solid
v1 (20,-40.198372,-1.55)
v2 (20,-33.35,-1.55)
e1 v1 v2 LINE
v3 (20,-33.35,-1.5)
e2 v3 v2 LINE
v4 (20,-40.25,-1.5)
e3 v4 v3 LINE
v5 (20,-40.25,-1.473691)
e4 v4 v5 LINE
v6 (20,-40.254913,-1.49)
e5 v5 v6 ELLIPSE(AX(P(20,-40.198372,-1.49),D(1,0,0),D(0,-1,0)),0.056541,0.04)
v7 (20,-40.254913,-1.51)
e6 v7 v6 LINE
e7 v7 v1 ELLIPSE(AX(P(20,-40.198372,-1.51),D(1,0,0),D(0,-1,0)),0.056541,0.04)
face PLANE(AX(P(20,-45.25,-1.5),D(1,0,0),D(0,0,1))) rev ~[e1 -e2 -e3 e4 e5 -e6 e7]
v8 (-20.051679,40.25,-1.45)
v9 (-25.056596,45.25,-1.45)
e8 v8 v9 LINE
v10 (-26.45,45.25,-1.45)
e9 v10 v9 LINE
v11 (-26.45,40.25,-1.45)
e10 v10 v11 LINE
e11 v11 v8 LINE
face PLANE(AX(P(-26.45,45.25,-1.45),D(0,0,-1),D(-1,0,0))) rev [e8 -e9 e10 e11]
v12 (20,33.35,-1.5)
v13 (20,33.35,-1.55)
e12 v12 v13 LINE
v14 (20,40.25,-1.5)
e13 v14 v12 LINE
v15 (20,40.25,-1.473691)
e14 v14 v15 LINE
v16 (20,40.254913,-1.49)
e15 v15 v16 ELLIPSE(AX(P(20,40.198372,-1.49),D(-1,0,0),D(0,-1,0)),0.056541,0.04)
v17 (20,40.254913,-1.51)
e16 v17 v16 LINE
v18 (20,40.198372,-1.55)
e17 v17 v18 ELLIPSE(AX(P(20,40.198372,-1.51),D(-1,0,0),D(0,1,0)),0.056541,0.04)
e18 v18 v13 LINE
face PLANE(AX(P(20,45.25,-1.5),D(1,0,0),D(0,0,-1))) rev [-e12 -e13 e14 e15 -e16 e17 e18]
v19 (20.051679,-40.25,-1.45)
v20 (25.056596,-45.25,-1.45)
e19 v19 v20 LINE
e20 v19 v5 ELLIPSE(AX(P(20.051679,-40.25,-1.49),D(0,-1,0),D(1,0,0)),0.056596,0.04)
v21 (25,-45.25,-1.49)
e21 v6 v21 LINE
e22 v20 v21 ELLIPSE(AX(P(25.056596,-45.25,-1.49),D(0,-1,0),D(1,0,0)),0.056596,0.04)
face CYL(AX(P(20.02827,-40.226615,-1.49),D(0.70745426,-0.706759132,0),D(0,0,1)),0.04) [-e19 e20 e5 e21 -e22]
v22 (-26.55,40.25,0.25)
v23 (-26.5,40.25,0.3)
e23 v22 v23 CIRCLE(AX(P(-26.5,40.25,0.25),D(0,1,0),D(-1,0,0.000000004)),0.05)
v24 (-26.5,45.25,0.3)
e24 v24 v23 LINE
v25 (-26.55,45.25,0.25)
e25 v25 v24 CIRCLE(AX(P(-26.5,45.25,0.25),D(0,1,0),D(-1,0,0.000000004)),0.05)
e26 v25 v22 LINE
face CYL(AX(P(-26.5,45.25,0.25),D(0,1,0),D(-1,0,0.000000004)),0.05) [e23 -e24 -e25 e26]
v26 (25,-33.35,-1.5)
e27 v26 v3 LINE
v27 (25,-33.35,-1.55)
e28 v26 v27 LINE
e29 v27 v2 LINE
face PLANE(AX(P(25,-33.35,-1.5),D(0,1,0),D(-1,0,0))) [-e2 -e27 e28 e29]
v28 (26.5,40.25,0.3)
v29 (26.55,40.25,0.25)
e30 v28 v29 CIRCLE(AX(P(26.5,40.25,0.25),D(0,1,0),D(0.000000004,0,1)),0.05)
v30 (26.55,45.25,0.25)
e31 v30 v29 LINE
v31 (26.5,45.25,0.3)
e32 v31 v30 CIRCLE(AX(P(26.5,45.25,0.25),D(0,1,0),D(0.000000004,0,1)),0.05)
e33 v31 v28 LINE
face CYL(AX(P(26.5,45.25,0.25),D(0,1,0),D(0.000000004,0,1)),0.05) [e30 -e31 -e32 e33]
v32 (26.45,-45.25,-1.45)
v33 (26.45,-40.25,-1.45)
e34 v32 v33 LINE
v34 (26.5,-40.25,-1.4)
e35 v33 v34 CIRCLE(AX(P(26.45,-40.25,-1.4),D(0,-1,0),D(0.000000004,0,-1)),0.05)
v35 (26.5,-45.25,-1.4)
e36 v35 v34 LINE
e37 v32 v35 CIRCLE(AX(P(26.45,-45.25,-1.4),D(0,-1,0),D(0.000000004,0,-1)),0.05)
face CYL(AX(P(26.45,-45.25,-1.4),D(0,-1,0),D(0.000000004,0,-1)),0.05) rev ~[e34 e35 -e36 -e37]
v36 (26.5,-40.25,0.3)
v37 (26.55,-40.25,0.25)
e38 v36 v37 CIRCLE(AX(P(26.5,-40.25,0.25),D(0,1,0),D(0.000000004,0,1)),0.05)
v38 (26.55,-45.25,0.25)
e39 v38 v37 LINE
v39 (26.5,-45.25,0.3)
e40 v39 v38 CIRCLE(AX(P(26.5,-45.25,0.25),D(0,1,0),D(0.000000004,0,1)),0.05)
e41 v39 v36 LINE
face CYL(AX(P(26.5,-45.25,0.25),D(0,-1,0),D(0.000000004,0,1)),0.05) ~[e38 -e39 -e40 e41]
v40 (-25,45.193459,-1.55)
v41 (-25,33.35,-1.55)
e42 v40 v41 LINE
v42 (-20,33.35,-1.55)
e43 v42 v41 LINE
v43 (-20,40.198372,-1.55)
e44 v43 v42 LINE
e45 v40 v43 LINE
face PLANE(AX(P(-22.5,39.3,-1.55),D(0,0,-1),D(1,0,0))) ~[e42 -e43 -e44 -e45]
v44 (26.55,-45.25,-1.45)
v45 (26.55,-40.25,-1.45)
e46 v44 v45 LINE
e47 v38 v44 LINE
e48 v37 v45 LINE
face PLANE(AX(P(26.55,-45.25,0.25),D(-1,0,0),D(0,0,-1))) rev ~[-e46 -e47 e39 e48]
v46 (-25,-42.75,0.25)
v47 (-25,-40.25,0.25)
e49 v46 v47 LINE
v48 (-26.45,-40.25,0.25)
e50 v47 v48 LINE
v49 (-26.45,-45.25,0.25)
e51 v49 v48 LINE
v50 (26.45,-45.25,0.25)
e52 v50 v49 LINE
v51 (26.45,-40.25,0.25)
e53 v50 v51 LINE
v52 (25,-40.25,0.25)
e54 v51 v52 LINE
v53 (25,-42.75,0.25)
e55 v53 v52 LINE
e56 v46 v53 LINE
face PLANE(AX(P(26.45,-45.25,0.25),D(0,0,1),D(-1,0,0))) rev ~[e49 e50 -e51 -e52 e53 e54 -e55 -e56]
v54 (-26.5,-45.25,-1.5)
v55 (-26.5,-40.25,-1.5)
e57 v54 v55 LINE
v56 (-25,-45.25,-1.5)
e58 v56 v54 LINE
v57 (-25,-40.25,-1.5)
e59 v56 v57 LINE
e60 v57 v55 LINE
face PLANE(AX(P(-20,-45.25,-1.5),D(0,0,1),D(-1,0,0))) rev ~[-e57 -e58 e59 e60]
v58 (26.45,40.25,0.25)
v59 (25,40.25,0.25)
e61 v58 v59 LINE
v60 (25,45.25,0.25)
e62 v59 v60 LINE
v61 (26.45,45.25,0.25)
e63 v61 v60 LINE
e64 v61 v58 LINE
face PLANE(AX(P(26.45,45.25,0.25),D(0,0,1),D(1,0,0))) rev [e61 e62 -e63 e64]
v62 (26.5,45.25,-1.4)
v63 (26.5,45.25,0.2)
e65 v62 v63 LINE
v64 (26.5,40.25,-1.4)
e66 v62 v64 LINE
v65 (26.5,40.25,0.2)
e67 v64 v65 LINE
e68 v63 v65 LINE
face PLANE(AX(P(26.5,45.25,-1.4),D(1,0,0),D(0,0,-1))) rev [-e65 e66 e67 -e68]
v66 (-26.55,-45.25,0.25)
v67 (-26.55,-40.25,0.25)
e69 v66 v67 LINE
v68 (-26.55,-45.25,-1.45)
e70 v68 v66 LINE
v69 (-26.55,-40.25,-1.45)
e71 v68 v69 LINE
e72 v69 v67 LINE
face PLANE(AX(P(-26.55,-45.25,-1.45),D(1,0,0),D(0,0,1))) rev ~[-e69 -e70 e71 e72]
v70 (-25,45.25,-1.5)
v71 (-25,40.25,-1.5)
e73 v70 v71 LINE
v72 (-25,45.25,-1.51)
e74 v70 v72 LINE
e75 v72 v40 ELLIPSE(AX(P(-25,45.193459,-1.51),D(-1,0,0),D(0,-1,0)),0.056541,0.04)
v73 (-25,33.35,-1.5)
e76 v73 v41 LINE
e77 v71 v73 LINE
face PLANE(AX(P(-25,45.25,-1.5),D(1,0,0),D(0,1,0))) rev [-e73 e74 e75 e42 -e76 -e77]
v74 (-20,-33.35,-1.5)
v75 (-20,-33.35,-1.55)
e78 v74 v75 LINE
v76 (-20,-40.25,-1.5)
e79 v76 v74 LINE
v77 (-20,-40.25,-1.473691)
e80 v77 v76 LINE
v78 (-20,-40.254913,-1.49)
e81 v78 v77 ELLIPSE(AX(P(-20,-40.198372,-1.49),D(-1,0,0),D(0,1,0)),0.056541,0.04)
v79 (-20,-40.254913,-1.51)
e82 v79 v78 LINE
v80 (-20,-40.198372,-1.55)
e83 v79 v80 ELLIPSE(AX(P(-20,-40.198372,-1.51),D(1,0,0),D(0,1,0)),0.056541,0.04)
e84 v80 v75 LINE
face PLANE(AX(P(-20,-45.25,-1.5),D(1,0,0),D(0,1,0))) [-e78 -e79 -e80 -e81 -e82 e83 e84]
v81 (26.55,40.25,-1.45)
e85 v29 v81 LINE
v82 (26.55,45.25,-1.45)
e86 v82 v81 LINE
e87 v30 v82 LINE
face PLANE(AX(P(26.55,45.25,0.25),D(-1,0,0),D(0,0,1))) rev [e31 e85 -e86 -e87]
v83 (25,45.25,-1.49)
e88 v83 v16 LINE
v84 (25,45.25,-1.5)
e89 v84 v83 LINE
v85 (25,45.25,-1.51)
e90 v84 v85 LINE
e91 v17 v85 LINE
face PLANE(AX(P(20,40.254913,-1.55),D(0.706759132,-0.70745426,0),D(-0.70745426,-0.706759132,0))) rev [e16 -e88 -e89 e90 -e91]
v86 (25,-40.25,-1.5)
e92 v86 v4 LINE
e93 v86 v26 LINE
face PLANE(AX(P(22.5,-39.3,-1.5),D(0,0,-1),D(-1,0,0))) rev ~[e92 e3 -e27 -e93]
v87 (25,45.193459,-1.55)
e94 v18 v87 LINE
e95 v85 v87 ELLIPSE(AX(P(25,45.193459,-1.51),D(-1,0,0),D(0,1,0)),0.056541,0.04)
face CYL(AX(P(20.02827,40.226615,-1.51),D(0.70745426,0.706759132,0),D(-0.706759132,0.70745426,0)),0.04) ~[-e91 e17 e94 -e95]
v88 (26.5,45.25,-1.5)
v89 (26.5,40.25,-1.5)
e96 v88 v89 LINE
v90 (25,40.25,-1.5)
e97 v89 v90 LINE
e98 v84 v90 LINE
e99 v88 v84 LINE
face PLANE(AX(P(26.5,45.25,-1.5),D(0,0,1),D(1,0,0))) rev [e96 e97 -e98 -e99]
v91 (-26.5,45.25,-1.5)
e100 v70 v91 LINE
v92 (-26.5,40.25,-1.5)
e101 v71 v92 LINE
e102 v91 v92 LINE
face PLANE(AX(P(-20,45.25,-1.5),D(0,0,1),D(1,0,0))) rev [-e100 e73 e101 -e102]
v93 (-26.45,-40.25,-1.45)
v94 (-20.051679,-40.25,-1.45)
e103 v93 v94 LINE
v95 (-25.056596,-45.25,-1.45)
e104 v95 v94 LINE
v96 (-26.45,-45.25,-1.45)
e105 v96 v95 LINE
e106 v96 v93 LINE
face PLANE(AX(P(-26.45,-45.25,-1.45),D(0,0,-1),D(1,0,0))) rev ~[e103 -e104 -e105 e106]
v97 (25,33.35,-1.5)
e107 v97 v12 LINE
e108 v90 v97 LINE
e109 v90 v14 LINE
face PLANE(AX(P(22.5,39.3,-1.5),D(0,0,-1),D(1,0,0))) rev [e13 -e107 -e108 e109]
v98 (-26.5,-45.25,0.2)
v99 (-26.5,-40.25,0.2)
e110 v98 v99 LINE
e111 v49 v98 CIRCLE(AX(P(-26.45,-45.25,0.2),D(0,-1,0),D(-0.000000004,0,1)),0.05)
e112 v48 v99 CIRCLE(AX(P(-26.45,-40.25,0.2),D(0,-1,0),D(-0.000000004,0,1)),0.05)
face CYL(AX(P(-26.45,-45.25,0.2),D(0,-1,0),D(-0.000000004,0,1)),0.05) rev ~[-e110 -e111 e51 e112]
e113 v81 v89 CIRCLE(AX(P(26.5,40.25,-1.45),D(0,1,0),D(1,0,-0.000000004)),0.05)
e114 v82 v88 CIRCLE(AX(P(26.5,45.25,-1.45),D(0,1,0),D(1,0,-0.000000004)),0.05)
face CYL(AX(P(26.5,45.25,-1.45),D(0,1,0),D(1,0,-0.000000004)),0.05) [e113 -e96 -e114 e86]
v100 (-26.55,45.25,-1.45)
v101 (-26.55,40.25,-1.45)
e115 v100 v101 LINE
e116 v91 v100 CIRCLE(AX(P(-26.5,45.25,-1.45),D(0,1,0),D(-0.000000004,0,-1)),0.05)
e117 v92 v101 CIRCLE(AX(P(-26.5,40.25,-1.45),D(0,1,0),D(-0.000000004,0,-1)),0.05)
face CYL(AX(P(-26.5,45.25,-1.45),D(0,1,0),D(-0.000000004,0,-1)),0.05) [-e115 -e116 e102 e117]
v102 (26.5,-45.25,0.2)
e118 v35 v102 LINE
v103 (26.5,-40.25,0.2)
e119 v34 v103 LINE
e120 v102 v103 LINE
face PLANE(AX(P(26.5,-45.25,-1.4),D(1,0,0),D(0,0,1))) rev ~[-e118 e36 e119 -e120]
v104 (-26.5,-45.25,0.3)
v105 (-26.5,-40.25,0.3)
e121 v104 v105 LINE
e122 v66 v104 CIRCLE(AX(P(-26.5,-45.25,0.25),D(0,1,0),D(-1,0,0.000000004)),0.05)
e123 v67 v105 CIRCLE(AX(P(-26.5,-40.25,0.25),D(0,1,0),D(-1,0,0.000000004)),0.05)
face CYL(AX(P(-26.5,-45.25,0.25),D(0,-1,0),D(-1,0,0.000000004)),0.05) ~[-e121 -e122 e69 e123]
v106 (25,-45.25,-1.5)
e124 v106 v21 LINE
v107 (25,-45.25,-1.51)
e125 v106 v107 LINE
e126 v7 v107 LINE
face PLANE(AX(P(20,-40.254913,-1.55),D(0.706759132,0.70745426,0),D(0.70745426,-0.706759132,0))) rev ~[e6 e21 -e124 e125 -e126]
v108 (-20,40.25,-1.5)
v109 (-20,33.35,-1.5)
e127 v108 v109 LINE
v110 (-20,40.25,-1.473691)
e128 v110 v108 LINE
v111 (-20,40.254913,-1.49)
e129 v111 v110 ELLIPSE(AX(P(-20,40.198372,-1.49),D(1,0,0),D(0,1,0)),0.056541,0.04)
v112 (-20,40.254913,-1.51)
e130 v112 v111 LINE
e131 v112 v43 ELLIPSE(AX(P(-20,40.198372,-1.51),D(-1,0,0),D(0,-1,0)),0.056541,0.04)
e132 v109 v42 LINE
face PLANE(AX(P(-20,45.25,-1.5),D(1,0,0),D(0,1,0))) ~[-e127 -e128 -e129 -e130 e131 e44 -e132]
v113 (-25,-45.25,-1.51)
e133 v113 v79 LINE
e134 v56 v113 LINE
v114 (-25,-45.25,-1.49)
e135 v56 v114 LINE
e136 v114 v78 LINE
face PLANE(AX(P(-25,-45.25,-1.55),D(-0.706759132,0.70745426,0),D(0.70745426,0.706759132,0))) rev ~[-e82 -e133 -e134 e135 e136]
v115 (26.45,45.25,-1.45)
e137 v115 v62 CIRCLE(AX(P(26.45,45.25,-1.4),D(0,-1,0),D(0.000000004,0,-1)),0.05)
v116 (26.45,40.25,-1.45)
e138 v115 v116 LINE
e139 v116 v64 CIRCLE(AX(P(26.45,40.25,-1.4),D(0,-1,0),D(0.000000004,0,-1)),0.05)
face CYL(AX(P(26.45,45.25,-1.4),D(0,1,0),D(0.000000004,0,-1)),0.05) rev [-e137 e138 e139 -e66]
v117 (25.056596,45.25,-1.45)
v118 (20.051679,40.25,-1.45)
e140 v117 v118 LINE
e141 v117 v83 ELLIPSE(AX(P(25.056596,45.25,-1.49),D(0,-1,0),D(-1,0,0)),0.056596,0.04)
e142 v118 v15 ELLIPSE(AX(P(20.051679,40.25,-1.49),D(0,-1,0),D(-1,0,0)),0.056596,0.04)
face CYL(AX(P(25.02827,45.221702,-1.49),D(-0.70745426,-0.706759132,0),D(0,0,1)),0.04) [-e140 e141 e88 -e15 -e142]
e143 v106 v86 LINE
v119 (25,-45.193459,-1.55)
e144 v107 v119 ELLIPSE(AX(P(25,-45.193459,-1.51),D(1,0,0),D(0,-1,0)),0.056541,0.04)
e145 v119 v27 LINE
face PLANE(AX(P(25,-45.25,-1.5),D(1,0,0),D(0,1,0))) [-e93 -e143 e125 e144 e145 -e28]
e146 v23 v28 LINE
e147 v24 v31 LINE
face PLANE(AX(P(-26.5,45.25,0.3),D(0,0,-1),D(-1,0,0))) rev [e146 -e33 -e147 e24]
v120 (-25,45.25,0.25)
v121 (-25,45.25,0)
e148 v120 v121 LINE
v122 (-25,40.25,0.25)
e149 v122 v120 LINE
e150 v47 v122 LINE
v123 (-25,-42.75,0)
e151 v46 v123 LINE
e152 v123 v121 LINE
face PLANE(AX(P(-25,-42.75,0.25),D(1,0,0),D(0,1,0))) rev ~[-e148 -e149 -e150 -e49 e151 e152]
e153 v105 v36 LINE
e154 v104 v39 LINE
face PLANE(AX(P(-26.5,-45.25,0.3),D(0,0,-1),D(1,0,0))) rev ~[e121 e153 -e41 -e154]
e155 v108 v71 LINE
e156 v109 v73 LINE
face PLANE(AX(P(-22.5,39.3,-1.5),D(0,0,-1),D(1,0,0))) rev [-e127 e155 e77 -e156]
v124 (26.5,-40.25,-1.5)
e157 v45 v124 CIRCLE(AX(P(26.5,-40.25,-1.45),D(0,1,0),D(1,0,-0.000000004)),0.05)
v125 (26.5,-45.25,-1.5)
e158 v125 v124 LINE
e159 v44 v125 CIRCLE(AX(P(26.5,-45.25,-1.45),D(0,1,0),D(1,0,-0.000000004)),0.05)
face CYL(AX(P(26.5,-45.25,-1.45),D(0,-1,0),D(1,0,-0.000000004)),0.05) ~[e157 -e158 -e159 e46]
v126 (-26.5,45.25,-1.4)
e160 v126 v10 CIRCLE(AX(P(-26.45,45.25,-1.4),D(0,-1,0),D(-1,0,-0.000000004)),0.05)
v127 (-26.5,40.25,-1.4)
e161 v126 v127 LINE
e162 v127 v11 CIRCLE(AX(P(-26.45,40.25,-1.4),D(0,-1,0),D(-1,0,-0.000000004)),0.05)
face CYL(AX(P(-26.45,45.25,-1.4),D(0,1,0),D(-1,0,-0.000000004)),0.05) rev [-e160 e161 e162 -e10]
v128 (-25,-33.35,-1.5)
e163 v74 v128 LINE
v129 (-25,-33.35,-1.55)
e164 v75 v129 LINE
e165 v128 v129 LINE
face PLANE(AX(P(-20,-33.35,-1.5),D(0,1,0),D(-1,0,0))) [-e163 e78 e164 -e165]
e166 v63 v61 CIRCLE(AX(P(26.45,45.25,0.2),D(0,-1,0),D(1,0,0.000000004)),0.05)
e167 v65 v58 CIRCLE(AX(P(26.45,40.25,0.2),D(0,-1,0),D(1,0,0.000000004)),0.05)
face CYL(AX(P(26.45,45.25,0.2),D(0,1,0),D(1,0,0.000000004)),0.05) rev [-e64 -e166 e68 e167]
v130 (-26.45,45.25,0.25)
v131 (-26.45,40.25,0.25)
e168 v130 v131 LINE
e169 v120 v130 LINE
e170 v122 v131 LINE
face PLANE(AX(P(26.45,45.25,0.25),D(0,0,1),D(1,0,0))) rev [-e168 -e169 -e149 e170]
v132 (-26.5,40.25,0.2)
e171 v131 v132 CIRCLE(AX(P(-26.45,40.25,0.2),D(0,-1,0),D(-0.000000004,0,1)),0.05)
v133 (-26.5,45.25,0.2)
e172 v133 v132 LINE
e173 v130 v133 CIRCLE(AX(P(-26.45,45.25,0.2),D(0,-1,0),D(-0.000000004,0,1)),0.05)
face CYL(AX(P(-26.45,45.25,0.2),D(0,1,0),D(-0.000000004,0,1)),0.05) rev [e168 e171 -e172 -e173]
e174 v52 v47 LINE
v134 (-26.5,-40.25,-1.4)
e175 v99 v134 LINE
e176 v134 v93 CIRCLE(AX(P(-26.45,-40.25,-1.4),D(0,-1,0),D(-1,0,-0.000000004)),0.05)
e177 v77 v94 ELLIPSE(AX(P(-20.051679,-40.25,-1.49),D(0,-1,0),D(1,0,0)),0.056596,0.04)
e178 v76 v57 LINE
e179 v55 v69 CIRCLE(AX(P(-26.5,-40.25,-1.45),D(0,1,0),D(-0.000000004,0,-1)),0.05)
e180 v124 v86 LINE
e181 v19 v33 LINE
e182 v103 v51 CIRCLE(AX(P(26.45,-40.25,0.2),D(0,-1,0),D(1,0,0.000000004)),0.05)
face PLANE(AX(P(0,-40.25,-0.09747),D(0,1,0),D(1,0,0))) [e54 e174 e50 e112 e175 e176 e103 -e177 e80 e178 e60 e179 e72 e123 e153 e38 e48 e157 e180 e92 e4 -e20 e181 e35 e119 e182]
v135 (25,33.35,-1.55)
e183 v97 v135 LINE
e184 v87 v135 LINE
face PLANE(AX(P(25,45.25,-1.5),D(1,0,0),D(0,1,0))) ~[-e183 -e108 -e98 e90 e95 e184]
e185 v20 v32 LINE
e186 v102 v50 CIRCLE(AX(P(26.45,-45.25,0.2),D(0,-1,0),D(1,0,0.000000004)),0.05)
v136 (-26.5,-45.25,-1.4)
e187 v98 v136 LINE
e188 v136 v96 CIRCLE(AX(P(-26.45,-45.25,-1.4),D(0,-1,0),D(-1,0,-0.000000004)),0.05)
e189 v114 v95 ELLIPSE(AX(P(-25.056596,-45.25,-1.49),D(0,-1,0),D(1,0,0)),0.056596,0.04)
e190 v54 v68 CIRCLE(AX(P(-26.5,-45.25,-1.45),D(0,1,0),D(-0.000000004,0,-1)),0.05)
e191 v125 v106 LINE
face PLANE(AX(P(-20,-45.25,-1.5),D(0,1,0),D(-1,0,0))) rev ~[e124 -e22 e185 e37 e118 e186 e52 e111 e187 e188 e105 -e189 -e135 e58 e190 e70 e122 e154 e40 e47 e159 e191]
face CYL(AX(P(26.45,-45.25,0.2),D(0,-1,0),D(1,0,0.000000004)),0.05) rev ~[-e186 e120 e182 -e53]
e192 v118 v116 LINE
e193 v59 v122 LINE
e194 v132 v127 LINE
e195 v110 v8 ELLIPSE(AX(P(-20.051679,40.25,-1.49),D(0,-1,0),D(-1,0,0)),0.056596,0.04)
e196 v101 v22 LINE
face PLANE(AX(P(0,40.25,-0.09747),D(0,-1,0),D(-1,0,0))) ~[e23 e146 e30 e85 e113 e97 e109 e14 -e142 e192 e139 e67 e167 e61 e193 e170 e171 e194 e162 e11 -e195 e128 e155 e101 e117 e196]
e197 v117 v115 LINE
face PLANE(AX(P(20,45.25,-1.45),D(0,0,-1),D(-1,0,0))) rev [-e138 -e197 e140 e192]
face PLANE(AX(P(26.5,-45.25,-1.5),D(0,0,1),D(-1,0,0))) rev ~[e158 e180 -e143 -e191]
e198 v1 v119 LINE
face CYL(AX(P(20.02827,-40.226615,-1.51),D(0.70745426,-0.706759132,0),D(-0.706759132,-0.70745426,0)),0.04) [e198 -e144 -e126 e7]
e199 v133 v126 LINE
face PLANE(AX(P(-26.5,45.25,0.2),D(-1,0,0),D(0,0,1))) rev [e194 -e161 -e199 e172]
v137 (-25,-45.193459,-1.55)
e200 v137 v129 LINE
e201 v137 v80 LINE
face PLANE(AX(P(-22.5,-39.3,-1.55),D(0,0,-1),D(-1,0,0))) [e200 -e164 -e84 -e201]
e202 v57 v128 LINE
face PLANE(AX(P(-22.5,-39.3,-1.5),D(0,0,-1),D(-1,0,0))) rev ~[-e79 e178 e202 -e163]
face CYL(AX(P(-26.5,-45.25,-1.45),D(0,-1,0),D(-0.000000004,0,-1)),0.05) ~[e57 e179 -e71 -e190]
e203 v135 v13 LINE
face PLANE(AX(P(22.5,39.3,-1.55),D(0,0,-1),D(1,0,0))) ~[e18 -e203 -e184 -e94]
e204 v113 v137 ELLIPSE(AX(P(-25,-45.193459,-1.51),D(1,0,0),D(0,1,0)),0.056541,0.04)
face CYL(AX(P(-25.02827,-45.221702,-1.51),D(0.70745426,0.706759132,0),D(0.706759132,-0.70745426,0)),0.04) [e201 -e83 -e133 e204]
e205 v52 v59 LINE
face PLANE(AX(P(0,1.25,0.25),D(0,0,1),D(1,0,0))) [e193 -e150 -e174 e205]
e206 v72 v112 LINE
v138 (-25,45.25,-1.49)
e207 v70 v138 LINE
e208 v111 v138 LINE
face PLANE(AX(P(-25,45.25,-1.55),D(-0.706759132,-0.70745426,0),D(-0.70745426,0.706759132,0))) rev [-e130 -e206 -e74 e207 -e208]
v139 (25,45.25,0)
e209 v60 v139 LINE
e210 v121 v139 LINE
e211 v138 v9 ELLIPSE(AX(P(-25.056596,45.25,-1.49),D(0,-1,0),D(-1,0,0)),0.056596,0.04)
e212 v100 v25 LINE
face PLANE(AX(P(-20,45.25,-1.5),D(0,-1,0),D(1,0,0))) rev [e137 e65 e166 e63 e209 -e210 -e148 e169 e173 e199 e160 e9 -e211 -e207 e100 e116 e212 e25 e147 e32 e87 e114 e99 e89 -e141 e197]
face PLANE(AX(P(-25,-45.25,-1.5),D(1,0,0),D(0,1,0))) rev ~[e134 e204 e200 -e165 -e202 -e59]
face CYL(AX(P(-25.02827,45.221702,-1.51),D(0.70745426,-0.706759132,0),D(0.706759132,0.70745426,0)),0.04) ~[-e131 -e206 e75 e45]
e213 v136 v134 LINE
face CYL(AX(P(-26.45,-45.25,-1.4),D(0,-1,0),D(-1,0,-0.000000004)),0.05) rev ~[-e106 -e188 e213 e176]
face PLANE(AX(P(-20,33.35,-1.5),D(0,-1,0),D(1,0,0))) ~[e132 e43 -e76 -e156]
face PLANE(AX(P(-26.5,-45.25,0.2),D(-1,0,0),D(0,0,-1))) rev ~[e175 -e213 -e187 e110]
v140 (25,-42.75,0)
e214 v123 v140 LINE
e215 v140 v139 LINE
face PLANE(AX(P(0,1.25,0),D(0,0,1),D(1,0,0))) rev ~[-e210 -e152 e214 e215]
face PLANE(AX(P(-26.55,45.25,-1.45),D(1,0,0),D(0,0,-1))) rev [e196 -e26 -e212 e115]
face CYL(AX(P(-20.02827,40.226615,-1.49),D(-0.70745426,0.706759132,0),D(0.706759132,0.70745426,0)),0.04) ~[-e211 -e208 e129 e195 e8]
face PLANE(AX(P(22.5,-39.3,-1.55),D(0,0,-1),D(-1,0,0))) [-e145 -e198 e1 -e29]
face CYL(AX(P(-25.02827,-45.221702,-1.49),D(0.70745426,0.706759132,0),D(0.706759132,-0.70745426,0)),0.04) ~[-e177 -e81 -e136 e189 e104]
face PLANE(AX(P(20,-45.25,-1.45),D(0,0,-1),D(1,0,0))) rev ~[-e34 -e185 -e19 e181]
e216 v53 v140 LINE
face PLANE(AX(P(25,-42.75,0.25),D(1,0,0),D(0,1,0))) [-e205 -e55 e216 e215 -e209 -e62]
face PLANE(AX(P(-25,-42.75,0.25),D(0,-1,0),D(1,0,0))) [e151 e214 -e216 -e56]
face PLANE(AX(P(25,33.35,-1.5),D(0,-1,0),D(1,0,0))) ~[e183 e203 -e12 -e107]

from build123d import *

# Parameters (mm, degrees)
SKETCH1_W            = 50
SKETCH1_H            = 88
BOSS_EXTRUDE1_DEPTH  = 0.25
BOSS_EXTRUDE2_DEPTH  = 5
SKETCH5_W            = 5
SKETCH5_H            = 11.9
BOSS_EXTRUDE3_DEPTH  = 0.05
CUT_EXTRUDE1_DEPTH   = 0.2
FILLET1_R            = 0.04
FILLET1_OF_MIRROR1_R = 0.04


with BuildPart() as part:
    # Sketch1 → Boss-Extrude1 (new body)
    with BuildSketch(Plane.XY.offset(0.25)):
        with Locations((0, 1.25)):
            Rectangle(SKETCH1_W, SKETCH1_H)
    extrude(amount=-BOSS_EXTRUDE1_DEPTH)

    # Sketch4 → Boss-Extrude2 (add)
    with BuildSketch(Plane(origin=(0, -45.25, 0), x_dir=(-1, 0, 0), z_dir=(0, -1, 0))):
        with BuildLine():
            Line((-26.45, -0.25), (26.45, -0.25))
            ThreePointArc((26.45, -0.25), (26.485355339, -0.235355339), (26.5, -0.2))
            Line((26.5, -0.2), (26.5, 1.4))
            ThreePointArc((26.5, 1.4), (26.485355339, 1.435355339), (26.45, 1.45))
            Line((26.45, 1.45), (20, 1.45))
            Line((20, 1.45), (20, 1.5))
            Line((20, 1.5), (26.5, 1.5))
            ThreePointArc((26.5, 1.5), (26.535355339, 1.485355339), (26.55, 1.45))
            Line((26.55, 1.45), (26.55, -0.25))
            ThreePointArc((26.55, -0.25), (26.535355339, -0.285355339), (26.5, -0.3))
            Line((26.5, -0.3), (-26.5, -0.3))
            ThreePointArc((-26.5, -0.3), (-26.535355339, -0.285355339), (-26.55, -0.25))
            Line((-26.55, -0.25), (-26.55, 1.45))
            ThreePointArc((-26.55, 1.45), (-26.535355339, 1.485355339), (-26.5, 1.5))
            Line((-26.5, 1.5), (-20, 1.5))
            Line((-20, 1.5), (-20, 1.45))
            Line((-20, 1.45), (-26.45, 1.45))
            ThreePointArc((-26.45, 1.45), (-26.485355339, 1.435355339), (-26.5, 1.4))
            Line((-26.5, 1.4), (-26.5, -0.2))
            ThreePointArc((-26.5, -0.2), (-26.485355339, -0.235355339), (-26.45, -0.25))
        make_face()
    boss_extrude2 = extrude(amount=-BOSS_EXTRUDE2_DEPTH)

    # Sketch5 → Boss-Extrude3 (add)
    with BuildSketch(Plane(origin=(0, 0, -1.5), x_dir=(-1, 0, 0), z_dir=(0, 0, -1))):
        with Locations((22.5, -39.3)):
            Rectangle(SKETCH5_W, SKETCH5_H)
        with Locations((-22.5, -39.3)):
            Rectangle(SKETCH5_W, SKETCH5_H)
    boss_extrude3 = extrude(amount=BOSS_EXTRUDE3_DEPTH)

    # Sketch6 → Cut-Extrude1 (cut)
    with BuildSketch(Plane(origin=(0, 0, -1.55), x_dir=(-1, 0, 0), z_dir=(0, 0, -1))):
        Polygon((20, -45.25), (25, -45.25), (20, -40.254912883), align=None)
        Polygon((-20, -40.254912883), (-25, -45.25), (-20, -45.25), align=None)
    cut_extrude1 = extrude(amount=-CUT_EXTRUDE1_DEPTH, mode=Mode.SUBTRACT)

    # Fillet1
    fillet1_edges = [part.edges().sort_by_distance(p)[0] for p in [
        (-22.5, -42.752456442, -1.45),
        (-22.5, -42.752456442, -1.55),
        (22.5, -42.752456442, -1.55),
        (22.5, -42.752456442, -1.45),
    ]]
    fillet(fillet1_edges, radius=FILLET1_R)

    # Mirror1: Boss-Extrude2, Boss-Extrude3, Cut-Extrude1 across plane
    add(boss_extrude2.mirror(Plane(origin=(0, 0, 0), x_dir=(0, 0, 1), z_dir=(0, -1, 0))))
    add(boss_extrude3.mirror(Plane(origin=(0, 0, 0), x_dir=(0, 0, 1), z_dir=(0, -1, 0))))
    add(cut_extrude1.mirror(Plane(origin=(0, 0, 0), x_dir=(0, 0, 1), z_dir=(0, -1, 0))), mode=Mode.SUBTRACT)

    # Fillet1 of Mirror1
    fillet1_of_mirror1_edges = [part.edges().sort_by_distance(p)[0] for p in [
        (-22.5, 42.752456442, -1.45),
        (-22.5, 42.752456442, -1.55),
        (22.5, 42.752456442, -1.55),
        (22.5, 42.752456442, -1.45),
    ]]
    fillet(fillet1_of_mirror1_edges, radius=FILLET1_OF_MIRROR1_R)


solid = part.part
